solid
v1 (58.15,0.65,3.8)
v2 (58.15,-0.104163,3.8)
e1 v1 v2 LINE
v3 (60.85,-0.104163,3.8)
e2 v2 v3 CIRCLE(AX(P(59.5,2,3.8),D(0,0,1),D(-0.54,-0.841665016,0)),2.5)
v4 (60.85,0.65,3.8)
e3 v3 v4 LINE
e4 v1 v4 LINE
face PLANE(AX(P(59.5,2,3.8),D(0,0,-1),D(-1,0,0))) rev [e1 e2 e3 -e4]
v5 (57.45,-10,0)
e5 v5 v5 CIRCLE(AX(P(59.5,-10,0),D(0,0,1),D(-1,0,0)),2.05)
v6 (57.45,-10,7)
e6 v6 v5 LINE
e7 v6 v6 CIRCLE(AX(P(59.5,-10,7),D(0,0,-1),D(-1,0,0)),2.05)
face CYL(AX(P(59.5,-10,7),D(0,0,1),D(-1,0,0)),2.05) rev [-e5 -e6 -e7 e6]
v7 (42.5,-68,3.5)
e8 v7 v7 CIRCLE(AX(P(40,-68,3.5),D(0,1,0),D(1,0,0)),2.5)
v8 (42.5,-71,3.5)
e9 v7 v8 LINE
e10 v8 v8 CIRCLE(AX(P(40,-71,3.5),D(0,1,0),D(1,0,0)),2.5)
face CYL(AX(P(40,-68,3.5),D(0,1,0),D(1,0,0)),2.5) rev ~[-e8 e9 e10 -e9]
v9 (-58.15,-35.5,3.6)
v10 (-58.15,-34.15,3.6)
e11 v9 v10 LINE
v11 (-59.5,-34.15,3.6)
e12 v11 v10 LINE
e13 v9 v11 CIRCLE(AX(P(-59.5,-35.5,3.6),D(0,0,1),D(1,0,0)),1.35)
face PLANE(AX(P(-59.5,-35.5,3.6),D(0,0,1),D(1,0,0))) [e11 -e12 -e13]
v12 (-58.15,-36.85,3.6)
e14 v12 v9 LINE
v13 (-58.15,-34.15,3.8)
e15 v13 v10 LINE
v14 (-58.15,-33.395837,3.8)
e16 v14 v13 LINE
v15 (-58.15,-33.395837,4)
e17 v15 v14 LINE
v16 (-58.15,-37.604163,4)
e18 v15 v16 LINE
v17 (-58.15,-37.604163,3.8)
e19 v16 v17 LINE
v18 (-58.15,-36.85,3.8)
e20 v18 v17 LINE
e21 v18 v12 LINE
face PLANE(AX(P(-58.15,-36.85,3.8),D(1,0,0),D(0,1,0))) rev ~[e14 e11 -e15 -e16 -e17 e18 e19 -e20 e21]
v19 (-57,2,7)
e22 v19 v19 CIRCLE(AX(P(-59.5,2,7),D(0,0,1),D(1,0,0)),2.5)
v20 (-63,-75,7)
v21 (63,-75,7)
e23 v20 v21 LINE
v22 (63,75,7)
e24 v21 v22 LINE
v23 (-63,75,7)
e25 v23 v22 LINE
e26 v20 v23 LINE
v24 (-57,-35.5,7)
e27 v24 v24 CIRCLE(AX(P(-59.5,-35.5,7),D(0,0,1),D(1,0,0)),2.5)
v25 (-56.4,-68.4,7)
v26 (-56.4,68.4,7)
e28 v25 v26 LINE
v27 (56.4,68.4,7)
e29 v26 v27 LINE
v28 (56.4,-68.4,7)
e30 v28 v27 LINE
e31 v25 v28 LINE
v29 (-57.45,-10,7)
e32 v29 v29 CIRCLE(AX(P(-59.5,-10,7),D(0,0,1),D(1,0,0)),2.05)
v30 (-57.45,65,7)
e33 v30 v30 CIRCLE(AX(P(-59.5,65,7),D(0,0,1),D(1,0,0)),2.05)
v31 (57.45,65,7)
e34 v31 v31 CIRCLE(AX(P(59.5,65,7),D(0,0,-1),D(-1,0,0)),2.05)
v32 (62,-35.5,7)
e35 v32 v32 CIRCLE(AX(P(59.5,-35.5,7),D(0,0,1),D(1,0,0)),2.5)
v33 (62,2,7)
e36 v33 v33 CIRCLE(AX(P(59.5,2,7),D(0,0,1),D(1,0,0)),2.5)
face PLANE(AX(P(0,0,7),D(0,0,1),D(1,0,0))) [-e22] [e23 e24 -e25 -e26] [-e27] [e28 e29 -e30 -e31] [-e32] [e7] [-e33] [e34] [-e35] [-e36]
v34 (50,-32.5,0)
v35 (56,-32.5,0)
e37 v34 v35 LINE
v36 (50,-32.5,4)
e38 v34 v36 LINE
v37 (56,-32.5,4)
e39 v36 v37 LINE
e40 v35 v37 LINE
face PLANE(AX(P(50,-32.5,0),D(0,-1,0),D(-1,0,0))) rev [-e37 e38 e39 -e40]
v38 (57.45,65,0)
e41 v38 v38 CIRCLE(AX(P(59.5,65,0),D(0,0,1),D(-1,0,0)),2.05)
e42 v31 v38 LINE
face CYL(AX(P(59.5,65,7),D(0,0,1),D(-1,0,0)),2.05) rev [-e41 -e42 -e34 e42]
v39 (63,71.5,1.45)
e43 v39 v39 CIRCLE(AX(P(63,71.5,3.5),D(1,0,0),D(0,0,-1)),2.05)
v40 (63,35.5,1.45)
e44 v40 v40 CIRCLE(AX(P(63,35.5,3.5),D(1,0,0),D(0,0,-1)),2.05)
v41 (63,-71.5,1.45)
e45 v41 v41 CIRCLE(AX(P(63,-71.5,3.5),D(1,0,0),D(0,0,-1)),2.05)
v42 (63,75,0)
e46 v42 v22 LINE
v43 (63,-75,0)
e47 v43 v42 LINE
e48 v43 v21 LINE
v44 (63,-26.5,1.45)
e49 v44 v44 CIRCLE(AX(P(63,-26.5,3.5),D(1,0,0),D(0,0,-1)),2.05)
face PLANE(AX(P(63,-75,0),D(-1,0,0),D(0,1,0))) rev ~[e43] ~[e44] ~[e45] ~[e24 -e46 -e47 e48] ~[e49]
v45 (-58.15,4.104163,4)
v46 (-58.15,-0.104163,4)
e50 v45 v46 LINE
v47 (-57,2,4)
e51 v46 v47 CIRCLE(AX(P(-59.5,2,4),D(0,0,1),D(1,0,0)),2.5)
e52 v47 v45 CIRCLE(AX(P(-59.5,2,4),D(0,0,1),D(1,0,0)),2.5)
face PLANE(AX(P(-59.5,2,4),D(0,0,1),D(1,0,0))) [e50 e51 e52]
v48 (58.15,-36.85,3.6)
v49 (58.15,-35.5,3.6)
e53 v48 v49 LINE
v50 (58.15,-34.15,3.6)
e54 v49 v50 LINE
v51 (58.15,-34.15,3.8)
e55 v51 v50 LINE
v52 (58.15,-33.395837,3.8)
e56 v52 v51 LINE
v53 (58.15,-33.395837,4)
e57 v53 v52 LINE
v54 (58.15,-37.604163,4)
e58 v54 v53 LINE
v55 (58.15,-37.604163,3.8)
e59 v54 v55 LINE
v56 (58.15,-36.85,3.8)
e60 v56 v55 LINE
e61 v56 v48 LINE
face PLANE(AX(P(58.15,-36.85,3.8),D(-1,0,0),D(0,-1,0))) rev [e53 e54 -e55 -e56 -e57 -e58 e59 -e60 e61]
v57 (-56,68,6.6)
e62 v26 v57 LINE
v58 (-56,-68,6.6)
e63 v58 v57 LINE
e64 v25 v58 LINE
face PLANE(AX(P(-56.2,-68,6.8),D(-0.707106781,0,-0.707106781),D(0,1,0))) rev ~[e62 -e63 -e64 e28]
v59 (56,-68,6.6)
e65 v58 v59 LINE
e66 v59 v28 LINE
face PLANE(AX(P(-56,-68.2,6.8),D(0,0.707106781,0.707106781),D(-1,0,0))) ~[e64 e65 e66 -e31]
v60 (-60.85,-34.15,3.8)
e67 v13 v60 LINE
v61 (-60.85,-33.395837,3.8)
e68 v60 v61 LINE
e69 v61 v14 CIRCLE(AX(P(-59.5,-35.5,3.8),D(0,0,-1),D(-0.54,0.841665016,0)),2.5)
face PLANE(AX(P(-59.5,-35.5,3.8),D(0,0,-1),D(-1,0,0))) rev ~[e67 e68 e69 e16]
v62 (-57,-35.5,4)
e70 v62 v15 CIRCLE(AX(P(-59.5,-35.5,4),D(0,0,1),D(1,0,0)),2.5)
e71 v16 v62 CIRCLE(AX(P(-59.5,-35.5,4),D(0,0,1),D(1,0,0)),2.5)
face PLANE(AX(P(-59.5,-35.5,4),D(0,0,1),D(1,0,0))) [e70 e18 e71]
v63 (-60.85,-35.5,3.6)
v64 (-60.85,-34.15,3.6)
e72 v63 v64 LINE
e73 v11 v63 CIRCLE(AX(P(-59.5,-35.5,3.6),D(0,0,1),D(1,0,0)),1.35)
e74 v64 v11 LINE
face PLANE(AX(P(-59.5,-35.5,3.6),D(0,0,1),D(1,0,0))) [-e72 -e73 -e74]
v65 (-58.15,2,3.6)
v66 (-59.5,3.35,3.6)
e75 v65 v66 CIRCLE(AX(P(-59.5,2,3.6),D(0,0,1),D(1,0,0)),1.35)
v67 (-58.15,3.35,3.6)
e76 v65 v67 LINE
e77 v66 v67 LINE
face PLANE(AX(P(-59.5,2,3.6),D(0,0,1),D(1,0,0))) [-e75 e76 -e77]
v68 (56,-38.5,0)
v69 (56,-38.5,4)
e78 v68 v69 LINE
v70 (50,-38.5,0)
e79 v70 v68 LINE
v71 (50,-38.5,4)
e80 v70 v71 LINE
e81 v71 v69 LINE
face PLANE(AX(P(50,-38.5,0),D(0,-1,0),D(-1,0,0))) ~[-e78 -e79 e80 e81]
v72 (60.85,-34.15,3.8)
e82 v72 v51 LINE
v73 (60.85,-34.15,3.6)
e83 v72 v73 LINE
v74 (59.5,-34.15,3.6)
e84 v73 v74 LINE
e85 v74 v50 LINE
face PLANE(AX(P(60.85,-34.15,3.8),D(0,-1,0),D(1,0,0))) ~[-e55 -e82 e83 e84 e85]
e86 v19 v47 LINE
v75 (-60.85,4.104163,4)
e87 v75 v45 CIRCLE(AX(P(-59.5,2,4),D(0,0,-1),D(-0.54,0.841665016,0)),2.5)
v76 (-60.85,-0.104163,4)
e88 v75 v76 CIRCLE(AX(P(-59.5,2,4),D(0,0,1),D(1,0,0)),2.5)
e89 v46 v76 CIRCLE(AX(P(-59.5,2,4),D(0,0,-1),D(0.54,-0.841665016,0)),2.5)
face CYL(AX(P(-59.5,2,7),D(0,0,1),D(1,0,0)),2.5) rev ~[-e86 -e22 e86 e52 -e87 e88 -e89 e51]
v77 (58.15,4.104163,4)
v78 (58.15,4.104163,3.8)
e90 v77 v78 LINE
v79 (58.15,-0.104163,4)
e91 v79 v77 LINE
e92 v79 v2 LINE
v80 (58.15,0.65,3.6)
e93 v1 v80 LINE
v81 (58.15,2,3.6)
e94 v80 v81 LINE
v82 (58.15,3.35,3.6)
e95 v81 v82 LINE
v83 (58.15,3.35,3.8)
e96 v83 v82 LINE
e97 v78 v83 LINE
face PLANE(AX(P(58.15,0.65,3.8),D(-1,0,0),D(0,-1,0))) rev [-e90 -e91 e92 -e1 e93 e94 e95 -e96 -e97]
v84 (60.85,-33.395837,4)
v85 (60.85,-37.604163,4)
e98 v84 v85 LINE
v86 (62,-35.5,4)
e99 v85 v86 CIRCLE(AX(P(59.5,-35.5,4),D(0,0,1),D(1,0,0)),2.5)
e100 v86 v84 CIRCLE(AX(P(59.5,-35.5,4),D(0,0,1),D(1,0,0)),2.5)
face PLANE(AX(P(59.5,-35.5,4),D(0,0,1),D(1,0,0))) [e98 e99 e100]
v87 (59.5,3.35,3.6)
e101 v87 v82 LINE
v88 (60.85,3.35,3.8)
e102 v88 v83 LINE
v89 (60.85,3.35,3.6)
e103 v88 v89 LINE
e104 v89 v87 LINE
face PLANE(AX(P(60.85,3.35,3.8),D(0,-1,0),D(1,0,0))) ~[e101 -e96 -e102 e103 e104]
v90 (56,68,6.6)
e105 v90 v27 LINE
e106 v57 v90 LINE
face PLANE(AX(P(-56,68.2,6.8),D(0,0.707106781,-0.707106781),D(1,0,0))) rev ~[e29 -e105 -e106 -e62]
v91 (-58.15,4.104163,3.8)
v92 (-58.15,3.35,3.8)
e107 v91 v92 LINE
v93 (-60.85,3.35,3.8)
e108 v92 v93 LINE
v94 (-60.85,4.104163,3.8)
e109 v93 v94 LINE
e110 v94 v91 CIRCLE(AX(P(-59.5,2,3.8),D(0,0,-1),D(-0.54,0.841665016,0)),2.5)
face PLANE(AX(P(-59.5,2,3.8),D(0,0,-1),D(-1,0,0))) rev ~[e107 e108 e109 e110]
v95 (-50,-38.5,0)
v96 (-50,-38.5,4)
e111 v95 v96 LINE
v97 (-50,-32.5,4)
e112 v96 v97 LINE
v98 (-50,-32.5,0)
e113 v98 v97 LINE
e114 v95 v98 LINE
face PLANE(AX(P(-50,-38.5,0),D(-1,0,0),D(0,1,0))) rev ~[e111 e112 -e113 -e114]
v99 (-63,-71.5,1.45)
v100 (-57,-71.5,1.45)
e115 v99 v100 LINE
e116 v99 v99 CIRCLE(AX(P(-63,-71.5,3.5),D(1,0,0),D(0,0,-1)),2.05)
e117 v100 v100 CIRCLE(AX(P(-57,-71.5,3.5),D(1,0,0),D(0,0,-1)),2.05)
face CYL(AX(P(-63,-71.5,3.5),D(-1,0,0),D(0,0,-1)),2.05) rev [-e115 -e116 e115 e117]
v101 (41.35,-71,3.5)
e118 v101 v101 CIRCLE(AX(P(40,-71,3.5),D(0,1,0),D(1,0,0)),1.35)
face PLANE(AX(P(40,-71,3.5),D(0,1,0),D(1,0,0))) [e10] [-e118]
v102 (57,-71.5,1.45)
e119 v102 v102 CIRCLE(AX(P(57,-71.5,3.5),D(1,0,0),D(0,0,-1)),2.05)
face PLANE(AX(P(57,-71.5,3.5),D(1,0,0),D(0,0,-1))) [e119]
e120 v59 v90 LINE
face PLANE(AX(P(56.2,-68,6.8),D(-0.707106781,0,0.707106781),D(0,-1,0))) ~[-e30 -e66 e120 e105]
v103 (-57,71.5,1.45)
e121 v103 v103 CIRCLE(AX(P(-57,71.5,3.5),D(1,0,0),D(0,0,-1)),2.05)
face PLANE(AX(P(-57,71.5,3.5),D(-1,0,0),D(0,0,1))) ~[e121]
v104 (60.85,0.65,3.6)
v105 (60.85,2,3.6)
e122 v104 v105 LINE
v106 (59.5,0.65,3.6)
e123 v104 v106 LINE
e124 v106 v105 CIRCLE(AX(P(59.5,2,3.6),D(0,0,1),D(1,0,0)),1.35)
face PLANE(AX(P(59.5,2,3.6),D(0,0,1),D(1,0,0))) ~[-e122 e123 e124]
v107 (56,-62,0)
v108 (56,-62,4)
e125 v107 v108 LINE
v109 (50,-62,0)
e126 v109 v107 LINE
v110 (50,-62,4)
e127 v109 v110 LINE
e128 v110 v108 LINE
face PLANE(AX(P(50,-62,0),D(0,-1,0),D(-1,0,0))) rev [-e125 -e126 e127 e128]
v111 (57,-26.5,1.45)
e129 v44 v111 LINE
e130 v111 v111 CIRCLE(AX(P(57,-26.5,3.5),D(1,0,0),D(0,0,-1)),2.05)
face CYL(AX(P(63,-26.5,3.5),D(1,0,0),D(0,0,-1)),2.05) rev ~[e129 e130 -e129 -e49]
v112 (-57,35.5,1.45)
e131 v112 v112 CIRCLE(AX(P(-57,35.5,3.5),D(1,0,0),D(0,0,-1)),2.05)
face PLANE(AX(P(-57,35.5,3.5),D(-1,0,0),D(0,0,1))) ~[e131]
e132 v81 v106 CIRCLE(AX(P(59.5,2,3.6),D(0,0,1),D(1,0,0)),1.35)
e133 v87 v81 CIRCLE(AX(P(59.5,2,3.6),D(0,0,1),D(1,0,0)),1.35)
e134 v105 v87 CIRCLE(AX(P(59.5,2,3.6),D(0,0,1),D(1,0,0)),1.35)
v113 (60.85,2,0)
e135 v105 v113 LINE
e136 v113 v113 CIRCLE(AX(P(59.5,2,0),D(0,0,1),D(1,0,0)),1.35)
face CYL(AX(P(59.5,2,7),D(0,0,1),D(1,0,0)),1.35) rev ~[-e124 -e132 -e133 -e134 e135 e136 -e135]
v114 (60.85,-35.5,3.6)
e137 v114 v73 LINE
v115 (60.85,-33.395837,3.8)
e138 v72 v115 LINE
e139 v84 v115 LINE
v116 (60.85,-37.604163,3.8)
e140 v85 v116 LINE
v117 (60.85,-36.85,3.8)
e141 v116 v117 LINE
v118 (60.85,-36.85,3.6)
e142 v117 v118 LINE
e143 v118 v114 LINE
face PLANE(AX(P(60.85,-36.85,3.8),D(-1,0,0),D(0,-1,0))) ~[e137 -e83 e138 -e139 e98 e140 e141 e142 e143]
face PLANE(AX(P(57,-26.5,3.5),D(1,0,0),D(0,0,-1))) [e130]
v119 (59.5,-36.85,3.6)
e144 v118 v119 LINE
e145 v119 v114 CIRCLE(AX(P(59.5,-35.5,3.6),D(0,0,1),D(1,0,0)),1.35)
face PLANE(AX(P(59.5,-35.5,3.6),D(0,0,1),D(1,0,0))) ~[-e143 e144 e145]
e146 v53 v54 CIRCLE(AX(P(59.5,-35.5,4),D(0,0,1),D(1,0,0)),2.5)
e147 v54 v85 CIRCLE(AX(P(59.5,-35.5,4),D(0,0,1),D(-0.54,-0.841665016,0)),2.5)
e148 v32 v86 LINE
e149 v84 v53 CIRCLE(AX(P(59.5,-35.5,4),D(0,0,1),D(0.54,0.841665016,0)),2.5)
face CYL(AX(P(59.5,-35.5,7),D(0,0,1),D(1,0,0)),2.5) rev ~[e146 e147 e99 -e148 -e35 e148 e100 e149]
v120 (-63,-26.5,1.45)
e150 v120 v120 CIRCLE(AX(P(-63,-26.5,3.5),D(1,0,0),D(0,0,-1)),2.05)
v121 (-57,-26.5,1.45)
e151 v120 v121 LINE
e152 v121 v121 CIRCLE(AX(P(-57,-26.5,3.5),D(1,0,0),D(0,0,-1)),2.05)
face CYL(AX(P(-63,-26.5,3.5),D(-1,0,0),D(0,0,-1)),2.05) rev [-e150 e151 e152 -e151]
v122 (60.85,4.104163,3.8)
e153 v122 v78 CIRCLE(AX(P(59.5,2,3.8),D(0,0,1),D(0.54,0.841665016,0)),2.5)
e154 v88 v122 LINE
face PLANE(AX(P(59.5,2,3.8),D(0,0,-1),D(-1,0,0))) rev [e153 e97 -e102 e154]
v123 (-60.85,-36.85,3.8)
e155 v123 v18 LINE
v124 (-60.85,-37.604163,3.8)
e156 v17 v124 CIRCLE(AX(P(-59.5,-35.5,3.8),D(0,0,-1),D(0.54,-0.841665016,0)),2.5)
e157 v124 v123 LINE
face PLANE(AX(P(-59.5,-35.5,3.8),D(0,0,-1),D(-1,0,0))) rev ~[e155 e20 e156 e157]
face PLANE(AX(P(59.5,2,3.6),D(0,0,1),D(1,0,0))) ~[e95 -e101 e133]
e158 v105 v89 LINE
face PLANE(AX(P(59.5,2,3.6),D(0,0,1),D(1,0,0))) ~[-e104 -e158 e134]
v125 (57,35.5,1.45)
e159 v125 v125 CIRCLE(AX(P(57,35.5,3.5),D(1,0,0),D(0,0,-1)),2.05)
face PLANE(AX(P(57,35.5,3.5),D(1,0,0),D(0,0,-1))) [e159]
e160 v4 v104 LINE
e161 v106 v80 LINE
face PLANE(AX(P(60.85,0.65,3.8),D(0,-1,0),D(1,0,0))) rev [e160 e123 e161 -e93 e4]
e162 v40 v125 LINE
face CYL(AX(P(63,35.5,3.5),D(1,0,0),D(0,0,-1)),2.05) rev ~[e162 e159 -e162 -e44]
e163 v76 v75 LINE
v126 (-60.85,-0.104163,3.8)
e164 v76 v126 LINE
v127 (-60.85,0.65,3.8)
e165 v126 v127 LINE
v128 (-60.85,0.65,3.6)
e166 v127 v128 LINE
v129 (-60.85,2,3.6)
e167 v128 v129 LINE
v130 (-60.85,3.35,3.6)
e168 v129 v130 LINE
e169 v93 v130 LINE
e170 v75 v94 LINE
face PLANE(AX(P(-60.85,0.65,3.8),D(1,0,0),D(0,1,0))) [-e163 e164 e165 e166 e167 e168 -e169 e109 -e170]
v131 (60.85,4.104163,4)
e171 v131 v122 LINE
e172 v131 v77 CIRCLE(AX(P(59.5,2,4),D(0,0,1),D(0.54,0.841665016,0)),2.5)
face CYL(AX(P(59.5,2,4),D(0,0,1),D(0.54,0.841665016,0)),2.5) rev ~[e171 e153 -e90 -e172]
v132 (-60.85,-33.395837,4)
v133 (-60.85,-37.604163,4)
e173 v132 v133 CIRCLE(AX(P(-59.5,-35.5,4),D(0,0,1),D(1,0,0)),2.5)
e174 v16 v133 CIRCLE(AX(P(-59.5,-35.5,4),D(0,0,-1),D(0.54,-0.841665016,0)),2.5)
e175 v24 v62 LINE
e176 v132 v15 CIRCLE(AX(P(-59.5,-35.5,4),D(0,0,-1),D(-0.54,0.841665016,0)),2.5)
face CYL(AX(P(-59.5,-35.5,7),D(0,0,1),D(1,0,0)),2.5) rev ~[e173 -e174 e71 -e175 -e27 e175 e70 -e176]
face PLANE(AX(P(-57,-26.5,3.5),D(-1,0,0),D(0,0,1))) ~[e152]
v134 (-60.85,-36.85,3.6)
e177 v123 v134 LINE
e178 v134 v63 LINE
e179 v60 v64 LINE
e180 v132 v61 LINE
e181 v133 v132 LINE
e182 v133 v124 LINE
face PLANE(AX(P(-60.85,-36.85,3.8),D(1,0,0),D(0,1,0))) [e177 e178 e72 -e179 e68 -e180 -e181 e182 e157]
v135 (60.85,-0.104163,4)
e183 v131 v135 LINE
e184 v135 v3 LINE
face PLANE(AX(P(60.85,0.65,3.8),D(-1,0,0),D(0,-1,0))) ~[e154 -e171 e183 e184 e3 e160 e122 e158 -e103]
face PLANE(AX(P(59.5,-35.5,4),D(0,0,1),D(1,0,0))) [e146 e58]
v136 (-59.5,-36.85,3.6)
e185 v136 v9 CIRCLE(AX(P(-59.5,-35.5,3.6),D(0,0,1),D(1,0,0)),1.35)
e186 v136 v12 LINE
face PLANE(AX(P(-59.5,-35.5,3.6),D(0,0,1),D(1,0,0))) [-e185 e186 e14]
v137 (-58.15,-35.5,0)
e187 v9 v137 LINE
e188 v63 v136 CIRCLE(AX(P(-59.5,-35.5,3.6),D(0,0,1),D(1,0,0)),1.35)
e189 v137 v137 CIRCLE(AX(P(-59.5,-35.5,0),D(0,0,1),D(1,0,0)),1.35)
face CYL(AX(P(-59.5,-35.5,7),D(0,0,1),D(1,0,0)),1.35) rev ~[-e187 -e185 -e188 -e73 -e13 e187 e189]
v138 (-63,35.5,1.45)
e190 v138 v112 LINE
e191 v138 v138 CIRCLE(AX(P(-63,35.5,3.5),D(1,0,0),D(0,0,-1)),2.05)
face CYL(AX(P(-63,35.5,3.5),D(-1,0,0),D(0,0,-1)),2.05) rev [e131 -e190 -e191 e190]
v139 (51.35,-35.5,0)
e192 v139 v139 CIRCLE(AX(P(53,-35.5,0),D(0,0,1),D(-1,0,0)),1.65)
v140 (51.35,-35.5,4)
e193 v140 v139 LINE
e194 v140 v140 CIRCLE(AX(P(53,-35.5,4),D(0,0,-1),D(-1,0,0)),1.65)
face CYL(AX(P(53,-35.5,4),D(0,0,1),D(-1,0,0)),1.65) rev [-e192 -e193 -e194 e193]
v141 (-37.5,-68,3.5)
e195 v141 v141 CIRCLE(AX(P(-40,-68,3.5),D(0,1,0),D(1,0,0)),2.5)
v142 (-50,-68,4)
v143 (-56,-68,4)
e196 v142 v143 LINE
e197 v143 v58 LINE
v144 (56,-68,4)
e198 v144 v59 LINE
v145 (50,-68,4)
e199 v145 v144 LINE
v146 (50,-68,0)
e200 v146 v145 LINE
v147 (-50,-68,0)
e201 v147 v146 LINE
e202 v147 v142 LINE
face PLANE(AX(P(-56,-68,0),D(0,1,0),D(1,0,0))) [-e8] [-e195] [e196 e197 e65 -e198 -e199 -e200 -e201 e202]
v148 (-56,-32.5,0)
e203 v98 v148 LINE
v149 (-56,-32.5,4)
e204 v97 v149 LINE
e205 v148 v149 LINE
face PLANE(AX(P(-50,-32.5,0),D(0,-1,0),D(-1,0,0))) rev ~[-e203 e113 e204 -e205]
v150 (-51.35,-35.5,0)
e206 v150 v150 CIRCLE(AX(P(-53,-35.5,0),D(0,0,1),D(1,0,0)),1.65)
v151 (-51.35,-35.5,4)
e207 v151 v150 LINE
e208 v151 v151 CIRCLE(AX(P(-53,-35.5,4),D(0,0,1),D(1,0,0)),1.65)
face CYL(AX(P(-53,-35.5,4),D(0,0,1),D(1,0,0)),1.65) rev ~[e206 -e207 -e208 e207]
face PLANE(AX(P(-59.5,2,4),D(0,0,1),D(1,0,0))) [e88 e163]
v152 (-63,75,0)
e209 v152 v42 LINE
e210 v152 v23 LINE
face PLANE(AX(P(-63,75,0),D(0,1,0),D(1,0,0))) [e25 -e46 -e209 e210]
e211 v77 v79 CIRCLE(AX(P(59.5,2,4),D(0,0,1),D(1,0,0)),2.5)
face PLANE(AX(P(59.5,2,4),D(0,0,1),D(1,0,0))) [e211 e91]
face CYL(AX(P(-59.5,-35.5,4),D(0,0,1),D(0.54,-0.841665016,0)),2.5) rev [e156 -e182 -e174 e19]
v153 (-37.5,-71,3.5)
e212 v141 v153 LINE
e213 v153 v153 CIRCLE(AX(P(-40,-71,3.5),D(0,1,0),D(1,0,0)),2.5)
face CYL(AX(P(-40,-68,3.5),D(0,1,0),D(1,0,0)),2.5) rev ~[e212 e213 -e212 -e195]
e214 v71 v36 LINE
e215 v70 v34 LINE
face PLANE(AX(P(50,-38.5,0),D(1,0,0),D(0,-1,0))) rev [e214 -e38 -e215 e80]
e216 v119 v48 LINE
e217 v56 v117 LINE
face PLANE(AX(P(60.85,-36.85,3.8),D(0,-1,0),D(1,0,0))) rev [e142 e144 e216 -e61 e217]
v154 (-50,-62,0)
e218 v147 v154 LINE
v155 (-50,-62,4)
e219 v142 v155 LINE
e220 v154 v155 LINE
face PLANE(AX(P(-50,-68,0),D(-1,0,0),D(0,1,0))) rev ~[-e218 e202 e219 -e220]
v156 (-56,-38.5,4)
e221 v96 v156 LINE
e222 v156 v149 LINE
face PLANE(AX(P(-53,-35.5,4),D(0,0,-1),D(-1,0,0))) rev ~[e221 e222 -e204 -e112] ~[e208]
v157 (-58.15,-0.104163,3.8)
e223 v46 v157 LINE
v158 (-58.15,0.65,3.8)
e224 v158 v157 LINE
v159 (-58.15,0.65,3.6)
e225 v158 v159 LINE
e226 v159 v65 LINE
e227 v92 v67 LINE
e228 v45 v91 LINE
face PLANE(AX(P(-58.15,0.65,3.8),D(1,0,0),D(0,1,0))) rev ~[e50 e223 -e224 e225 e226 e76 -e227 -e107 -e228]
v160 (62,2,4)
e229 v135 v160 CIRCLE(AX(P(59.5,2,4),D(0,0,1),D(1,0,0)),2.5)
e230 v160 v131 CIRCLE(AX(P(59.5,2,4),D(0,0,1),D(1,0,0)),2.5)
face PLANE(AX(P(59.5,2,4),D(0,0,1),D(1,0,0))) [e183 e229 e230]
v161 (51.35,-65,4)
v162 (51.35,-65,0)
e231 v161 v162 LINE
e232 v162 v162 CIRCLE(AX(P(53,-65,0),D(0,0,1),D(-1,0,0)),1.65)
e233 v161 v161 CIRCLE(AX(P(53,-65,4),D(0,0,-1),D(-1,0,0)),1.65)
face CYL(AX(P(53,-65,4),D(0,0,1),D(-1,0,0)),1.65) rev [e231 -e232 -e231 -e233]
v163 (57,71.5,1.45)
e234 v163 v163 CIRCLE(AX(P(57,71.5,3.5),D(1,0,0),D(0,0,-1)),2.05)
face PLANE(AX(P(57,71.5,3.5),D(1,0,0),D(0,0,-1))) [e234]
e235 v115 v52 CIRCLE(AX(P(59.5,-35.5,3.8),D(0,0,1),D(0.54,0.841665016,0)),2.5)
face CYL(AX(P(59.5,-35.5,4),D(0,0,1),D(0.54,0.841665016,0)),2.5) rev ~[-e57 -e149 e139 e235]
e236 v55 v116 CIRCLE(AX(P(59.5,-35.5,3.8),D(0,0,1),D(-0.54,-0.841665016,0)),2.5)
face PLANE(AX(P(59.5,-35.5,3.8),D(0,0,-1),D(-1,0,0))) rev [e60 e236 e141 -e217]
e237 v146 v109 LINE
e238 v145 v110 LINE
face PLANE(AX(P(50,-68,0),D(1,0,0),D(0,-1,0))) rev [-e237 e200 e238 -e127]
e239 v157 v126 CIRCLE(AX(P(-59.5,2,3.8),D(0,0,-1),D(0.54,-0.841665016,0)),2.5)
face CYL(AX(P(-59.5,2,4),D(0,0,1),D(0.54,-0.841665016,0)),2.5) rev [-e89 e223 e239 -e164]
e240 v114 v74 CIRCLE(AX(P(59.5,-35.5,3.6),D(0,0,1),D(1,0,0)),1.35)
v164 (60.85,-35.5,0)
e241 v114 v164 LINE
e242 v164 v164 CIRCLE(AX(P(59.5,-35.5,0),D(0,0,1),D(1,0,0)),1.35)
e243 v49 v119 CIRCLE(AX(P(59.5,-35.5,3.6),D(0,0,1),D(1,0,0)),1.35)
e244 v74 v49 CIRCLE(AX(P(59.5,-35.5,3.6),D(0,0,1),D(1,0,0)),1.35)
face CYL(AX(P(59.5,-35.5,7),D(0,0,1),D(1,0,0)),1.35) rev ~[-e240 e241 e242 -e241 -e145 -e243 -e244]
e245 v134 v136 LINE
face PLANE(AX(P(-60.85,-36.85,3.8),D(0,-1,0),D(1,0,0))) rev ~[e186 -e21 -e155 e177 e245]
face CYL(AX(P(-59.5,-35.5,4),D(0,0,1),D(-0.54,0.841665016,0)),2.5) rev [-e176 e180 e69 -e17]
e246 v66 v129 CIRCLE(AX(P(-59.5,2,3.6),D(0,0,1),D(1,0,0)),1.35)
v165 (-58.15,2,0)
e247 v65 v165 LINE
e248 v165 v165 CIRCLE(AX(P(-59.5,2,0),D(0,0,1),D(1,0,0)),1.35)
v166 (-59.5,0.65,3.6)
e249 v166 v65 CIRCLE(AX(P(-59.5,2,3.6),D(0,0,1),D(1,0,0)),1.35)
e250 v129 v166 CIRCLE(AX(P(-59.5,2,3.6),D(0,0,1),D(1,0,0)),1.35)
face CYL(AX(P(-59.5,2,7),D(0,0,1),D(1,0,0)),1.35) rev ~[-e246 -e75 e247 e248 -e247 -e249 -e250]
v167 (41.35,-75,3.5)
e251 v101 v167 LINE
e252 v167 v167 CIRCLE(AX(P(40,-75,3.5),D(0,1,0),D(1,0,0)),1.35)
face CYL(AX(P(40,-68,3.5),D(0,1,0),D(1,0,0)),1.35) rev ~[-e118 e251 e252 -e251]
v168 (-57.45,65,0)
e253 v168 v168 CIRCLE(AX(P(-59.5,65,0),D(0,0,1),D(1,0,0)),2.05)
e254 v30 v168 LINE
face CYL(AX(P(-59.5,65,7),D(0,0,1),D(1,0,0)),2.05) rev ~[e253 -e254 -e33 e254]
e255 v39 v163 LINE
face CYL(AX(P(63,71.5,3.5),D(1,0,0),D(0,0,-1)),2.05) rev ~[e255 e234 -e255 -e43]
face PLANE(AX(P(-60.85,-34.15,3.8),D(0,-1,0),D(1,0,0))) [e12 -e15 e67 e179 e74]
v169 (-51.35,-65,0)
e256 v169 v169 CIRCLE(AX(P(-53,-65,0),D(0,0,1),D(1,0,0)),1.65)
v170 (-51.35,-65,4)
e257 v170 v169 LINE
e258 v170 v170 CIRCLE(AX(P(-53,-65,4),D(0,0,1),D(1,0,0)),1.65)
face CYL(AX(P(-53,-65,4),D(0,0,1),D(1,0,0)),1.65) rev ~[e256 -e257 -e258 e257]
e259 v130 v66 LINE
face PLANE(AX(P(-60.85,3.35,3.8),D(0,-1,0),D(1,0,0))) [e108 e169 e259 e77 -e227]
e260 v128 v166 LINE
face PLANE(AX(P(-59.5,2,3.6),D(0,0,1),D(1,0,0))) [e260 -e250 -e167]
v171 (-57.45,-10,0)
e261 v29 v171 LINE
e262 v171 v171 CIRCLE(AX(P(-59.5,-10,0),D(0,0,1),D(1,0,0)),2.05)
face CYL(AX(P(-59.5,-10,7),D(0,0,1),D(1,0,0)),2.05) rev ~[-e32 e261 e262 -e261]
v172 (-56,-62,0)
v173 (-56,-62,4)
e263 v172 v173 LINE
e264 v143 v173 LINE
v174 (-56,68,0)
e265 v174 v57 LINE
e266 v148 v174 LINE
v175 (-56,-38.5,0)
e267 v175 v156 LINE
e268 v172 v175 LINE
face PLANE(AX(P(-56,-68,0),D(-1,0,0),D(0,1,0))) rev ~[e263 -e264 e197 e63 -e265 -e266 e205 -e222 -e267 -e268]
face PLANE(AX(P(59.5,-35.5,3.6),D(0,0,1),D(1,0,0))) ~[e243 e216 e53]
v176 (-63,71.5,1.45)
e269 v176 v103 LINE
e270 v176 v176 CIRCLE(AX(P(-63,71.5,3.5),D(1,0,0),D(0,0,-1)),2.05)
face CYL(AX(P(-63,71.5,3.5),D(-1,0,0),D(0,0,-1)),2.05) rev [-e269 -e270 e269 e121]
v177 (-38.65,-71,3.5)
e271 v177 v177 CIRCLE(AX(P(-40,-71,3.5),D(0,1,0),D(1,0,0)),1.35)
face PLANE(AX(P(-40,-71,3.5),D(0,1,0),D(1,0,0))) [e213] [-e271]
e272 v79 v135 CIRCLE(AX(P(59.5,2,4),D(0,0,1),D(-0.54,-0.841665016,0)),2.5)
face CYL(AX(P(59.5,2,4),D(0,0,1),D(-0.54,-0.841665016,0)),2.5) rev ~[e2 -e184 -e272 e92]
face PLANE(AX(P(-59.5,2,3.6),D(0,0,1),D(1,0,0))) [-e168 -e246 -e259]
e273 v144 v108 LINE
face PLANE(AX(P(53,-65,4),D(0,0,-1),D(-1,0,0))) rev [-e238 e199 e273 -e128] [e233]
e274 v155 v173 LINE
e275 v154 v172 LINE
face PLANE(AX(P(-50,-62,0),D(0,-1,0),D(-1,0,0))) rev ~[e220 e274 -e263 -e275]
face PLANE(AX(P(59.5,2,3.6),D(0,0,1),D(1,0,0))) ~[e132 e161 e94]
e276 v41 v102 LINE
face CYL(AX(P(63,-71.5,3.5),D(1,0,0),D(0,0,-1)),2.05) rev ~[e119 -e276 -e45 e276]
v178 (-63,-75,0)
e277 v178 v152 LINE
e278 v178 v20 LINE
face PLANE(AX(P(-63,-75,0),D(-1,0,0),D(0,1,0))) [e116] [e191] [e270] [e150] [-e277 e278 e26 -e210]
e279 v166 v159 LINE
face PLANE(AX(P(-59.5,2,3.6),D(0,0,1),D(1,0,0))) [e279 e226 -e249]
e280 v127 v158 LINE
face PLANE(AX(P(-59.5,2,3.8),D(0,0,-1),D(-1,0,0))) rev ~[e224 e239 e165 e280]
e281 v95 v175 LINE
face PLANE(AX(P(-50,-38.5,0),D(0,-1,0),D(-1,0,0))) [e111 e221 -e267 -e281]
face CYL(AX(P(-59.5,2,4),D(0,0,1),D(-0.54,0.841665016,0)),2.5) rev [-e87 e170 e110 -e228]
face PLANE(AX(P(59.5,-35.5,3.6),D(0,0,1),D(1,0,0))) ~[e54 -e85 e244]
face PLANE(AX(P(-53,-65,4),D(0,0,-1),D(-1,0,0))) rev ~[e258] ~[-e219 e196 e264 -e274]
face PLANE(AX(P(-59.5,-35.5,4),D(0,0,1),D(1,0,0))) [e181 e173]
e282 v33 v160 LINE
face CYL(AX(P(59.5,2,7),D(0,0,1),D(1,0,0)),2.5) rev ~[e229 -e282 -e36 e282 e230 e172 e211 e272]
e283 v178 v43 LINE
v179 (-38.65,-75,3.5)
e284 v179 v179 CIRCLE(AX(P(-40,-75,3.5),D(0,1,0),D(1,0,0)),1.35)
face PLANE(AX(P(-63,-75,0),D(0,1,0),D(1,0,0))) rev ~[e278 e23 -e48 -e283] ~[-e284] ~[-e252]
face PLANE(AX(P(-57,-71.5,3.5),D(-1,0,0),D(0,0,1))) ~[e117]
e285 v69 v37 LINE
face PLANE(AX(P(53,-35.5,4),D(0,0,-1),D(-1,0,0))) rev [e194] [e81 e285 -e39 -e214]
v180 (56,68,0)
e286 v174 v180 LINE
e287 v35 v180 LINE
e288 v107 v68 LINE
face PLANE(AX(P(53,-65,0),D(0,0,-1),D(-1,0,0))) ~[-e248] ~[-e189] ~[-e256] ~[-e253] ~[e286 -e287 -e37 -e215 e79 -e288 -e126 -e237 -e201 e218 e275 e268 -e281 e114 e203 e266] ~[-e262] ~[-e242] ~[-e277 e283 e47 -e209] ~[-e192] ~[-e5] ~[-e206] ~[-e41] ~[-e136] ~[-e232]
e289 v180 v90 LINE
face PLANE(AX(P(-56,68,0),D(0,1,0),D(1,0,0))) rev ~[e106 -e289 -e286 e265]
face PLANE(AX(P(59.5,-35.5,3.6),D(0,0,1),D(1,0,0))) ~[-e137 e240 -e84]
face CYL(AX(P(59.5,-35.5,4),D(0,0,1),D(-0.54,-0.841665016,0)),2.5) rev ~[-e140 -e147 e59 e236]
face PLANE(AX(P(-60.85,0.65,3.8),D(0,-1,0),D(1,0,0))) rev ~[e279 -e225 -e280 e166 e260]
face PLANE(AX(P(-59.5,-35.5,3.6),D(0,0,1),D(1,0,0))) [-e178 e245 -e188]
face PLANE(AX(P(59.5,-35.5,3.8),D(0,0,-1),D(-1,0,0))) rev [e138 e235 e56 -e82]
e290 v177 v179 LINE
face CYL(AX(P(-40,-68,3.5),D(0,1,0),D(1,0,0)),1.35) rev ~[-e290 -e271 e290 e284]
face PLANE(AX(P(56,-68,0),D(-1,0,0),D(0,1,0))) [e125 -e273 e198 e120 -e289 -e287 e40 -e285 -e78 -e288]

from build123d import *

# Parameters (mm, degrees)
SKETCH1_W           = 126
SKETCH1_H           = 150
SKETCH1_W_2         = 112
SKETCH1_H_2         = 136
BOSS_EXTRUDE1_DEPTH = 7
SKETCH2_R           = 2.05
CUT_EXTRUDE1_DEPTH  = 6
SKETCH3_R           = 1.35
CUT_EXTRUDE2_DEPTH  = 8
SKETCH4_R           = 2.5
CUT_EXTRUDE3_DEPTH  = 3
SKETCH5_R           = 1.35
CUT_EXTRUDE4_DEPTH  = 8
SKETCH6_R           = 2.5
CUT_EXTRUDE5_DEPTH  = 3
CUT_EXTRUDE6_DEPTH  = 0.2
SKETCH8_W           = 2.7
SKETCH8_H           = 2.7
CUT_EXTRUDE7_DEPTH  = 0.2
SKETCH9_R           = 2.05
CUT_EXTRUDE8_DEPTH  = 8
SKETCH10_W          = 6
SKETCH10_H          = 6
BOSS_EXTRUDE2_DEPTH = 4
SKETCH11_R          = 1.65
CUT_EXTRUDE9_DEPTH  = 5
CHAMFER1_SIZE       = 0.4


with BuildPart() as part:
    # Sketch1 → Boss-Extrude1 (new body)
    with BuildSketch(Plane.XY):
        Rectangle(SKETCH1_W, SKETCH1_H)
        Rectangle(SKETCH1_W_2, SKETCH1_H_2, mode=Mode.SUBTRACT)
    extrude(amount=BOSS_EXTRUDE1_DEPTH)

    # Sketch2 → Cut-Extrude1 (cut)
    with BuildSketch(Plane(origin=(63, 0, 0), x_dir=(0, 0, -1), z_dir=(1, 0, 0))):
        with Locations((-3.5, 71.5)):
            Circle(SKETCH2_R)
        with Locations((-3.5, -71.5)):
            Circle(SKETCH2_R)
        with Locations((-3.5, 35.5)):
            Circle(SKETCH2_R)
        with Locations((-3.5, -26.5)):
            Circle(SKETCH2_R)
    cut_extrude1 = extrude(amount=-CUT_EXTRUDE1_DEPTH, mode=Mode.SUBTRACT)

    # Mirror1: Cut-Extrude1 across plane
    add(cut_extrude1.mirror(Plane(origin=(0, 0, 0), x_dir=(0, 0, 1), z_dir=(1, 0, 0))), mode=Mode.SUBTRACT)

    # Sketch3 → Cut-Extrude2 (cut, through all)
    with BuildSketch(Plane(origin=(0, -68, 0), x_dir=(1, 0, 0), z_dir=(0, 1, 0))):
        with Locations((-40, -3.5)):
            Circle(SKETCH3_R)
        with Locations((40, -3.5)):
            Circle(SKETCH3_R)
    extrude(amount=-CUT_EXTRUDE2_DEPTH, mode=Mode.SUBTRACT)

    # Sketch4 → Cut-Extrude3 (cut)
    with BuildSketch(Plane(origin=(0, -68, 0), x_dir=(1, 0, 0), z_dir=(0, 1, 0))):
        with Locations((-40, -3.5)):
            Circle(SKETCH4_R)
        with Locations((40, -3.5)):
            Circle(SKETCH4_R)
    extrude(amount=-CUT_EXTRUDE3_DEPTH, mode=Mode.SUBTRACT)

    # Sketch5 → Cut-Extrude4 (cut, through all)
    with BuildSketch(Plane.XY.offset(7)):
        with Locations((-59.5, 2)):
            Circle(SKETCH5_R)
        with Locations((59.5, 2)):
            Circle(SKETCH5_R)
        with Locations((-59.5, -35.5)):
            Circle(SKETCH5_R)
        with Locations((59.5, -35.5)):
            Circle(SKETCH5_R)
    extrude(amount=-CUT_EXTRUDE4_DEPTH, mode=Mode.SUBTRACT)

    # Sketch6 → Cut-Extrude5 (cut)
    with BuildSketch(Plane.XY.offset(7)):
        with Locations((-59.5, 2)):
            Circle(SKETCH6_R)
        with Locations((59.5, 2)):
            Circle(SKETCH6_R)
        with Locations((-59.5, -35.5)):
            Circle(SKETCH6_R)
        with Locations((59.5, -35.5)):
            Circle(SKETCH6_R)
    extrude(amount=-CUT_EXTRUDE5_DEPTH, mode=Mode.SUBTRACT)

    # Sketch7 → Cut-Extrude6 (cut)
    with BuildSketch(Plane.XY.offset(4)):
        with BuildLine():
            Line((-60.85, -0.104162541), (-60.85, 4.104162541))
            ThreePointArc((-60.85, 4.104162541), (-59.5, 4.5), (-58.15, 4.104162541))
            Line((-58.15, 4.104162541), (-58.15, -0.104162541))
            ThreePointArc((-58.15, -0.104162541), (-59.5, -0.5), (-60.85, -0.104162541))
        make_face()
        with BuildLine():
            Line((-60.85, -37.604162541), (-60.85, -33.395837459))
            ThreePointArc((-60.85, -33.395837459), (-59.5, -33), (-58.15, -33.395837459))
            Line((-58.15, -33.395837459), (-58.15, -37.604162541))
            ThreePointArc((-58.15, -37.604162541), (-59.5, -38), (-60.85, -37.604162541))
        make_face()
    cut_extrude6 = extrude(amount=-CUT_EXTRUDE6_DEPTH, mode=Mode.SUBTRACT)

    # Sketch8 → Cut-Extrude7 (cut)
    with BuildSketch(Plane.XY.offset(3.8)):
        with Locations((-59.5, -35.5)):
            Rectangle(SKETCH8_W, SKETCH8_H)
        with Locations((-59.5, 2)):
            Rectangle(SKETCH8_W, SKETCH8_H)
    cut_extrude7 = extrude(amount=-CUT_EXTRUDE7_DEPTH, mode=Mode.SUBTRACT)

    # Mirror2: Cut-Extrude6, Cut-Extrude7 across plane
    add(cut_extrude6.mirror(Plane(origin=(0, 0, 0), x_dir=(0, 0, 1), z_dir=(1, 0, 0))), mode=Mode.SUBTRACT)
    add(cut_extrude7.mirror(Plane(origin=(0, 0, 0), x_dir=(0, 0, 1), z_dir=(1, 0, 0))), mode=Mode.SUBTRACT)

    # Sketch9 → Cut-Extrude8 (cut, through all)
    with BuildSketch(Plane.XY.offset(7)):
        with Locations((-59.5, 65)):
            Circle(SKETCH9_R)
        with Locations((-59.5, -10)):
            Circle(SKETCH9_R)
    cut_extrude8 = extrude(amount=-CUT_EXTRUDE8_DEPTH, mode=Mode.SUBTRACT)

    # Mirror3: Cut-Extrude8 across plane
    add(cut_extrude8.mirror(Plane(origin=(0, 0, 0), x_dir=(0, 0, 1), z_dir=(1, 0, 0))), mode=Mode.SUBTRACT)

    # Sketch10 → Boss-Extrude2 (add)
    with BuildSketch(Plane(origin=(0, 0, 0), x_dir=(-1, 0, 0), z_dir=(0, 0, -1))):
        with Locations((53, -65)):
            Rectangle(SKETCH10_W, SKETCH10_H)
        with Locations((53, -35.5)):
            Rectangle(SKETCH10_W, SKETCH10_H)
    boss_extrude2 = extrude(amount=-BOSS_EXTRUDE2_DEPTH)

    # Sketch11 → Cut-Extrude9 (cut, through all)
    with BuildSketch(Plane.XY.offset(4)):
        with Locations((-53, -65)):
            Circle(SKETCH11_R)
        with Locations((-53, -35.5)):
            Circle(SKETCH11_R)
    cut_extrude9 = extrude(amount=-CUT_EXTRUDE9_DEPTH, mode=Mode.SUBTRACT)

    # Mirror4: Boss-Extrude2, Cut-Extrude9 across plane
    add(boss_extrude2.mirror(Plane(origin=(0, 0, 0), x_dir=(0, 0, 1), z_dir=(1, 0, 0))))
    add(cut_extrude9.mirror(Plane(origin=(0, 0, 0), x_dir=(0, 0, 1), z_dir=(1, 0, 0))), mode=Mode.SUBTRACT)

    # Chamfer1
    chamfer1_edges = [part.edges().sort_by_distance(p)[0] for p in [
        (56, 0, 7),
        (0, 68, 7),
        (-56, 0, 7),
        (0, -68, 7),
    ]]
    chamfer(chamfer1_edges, length=CHAMFER1_SIZE)


solid = part.part
